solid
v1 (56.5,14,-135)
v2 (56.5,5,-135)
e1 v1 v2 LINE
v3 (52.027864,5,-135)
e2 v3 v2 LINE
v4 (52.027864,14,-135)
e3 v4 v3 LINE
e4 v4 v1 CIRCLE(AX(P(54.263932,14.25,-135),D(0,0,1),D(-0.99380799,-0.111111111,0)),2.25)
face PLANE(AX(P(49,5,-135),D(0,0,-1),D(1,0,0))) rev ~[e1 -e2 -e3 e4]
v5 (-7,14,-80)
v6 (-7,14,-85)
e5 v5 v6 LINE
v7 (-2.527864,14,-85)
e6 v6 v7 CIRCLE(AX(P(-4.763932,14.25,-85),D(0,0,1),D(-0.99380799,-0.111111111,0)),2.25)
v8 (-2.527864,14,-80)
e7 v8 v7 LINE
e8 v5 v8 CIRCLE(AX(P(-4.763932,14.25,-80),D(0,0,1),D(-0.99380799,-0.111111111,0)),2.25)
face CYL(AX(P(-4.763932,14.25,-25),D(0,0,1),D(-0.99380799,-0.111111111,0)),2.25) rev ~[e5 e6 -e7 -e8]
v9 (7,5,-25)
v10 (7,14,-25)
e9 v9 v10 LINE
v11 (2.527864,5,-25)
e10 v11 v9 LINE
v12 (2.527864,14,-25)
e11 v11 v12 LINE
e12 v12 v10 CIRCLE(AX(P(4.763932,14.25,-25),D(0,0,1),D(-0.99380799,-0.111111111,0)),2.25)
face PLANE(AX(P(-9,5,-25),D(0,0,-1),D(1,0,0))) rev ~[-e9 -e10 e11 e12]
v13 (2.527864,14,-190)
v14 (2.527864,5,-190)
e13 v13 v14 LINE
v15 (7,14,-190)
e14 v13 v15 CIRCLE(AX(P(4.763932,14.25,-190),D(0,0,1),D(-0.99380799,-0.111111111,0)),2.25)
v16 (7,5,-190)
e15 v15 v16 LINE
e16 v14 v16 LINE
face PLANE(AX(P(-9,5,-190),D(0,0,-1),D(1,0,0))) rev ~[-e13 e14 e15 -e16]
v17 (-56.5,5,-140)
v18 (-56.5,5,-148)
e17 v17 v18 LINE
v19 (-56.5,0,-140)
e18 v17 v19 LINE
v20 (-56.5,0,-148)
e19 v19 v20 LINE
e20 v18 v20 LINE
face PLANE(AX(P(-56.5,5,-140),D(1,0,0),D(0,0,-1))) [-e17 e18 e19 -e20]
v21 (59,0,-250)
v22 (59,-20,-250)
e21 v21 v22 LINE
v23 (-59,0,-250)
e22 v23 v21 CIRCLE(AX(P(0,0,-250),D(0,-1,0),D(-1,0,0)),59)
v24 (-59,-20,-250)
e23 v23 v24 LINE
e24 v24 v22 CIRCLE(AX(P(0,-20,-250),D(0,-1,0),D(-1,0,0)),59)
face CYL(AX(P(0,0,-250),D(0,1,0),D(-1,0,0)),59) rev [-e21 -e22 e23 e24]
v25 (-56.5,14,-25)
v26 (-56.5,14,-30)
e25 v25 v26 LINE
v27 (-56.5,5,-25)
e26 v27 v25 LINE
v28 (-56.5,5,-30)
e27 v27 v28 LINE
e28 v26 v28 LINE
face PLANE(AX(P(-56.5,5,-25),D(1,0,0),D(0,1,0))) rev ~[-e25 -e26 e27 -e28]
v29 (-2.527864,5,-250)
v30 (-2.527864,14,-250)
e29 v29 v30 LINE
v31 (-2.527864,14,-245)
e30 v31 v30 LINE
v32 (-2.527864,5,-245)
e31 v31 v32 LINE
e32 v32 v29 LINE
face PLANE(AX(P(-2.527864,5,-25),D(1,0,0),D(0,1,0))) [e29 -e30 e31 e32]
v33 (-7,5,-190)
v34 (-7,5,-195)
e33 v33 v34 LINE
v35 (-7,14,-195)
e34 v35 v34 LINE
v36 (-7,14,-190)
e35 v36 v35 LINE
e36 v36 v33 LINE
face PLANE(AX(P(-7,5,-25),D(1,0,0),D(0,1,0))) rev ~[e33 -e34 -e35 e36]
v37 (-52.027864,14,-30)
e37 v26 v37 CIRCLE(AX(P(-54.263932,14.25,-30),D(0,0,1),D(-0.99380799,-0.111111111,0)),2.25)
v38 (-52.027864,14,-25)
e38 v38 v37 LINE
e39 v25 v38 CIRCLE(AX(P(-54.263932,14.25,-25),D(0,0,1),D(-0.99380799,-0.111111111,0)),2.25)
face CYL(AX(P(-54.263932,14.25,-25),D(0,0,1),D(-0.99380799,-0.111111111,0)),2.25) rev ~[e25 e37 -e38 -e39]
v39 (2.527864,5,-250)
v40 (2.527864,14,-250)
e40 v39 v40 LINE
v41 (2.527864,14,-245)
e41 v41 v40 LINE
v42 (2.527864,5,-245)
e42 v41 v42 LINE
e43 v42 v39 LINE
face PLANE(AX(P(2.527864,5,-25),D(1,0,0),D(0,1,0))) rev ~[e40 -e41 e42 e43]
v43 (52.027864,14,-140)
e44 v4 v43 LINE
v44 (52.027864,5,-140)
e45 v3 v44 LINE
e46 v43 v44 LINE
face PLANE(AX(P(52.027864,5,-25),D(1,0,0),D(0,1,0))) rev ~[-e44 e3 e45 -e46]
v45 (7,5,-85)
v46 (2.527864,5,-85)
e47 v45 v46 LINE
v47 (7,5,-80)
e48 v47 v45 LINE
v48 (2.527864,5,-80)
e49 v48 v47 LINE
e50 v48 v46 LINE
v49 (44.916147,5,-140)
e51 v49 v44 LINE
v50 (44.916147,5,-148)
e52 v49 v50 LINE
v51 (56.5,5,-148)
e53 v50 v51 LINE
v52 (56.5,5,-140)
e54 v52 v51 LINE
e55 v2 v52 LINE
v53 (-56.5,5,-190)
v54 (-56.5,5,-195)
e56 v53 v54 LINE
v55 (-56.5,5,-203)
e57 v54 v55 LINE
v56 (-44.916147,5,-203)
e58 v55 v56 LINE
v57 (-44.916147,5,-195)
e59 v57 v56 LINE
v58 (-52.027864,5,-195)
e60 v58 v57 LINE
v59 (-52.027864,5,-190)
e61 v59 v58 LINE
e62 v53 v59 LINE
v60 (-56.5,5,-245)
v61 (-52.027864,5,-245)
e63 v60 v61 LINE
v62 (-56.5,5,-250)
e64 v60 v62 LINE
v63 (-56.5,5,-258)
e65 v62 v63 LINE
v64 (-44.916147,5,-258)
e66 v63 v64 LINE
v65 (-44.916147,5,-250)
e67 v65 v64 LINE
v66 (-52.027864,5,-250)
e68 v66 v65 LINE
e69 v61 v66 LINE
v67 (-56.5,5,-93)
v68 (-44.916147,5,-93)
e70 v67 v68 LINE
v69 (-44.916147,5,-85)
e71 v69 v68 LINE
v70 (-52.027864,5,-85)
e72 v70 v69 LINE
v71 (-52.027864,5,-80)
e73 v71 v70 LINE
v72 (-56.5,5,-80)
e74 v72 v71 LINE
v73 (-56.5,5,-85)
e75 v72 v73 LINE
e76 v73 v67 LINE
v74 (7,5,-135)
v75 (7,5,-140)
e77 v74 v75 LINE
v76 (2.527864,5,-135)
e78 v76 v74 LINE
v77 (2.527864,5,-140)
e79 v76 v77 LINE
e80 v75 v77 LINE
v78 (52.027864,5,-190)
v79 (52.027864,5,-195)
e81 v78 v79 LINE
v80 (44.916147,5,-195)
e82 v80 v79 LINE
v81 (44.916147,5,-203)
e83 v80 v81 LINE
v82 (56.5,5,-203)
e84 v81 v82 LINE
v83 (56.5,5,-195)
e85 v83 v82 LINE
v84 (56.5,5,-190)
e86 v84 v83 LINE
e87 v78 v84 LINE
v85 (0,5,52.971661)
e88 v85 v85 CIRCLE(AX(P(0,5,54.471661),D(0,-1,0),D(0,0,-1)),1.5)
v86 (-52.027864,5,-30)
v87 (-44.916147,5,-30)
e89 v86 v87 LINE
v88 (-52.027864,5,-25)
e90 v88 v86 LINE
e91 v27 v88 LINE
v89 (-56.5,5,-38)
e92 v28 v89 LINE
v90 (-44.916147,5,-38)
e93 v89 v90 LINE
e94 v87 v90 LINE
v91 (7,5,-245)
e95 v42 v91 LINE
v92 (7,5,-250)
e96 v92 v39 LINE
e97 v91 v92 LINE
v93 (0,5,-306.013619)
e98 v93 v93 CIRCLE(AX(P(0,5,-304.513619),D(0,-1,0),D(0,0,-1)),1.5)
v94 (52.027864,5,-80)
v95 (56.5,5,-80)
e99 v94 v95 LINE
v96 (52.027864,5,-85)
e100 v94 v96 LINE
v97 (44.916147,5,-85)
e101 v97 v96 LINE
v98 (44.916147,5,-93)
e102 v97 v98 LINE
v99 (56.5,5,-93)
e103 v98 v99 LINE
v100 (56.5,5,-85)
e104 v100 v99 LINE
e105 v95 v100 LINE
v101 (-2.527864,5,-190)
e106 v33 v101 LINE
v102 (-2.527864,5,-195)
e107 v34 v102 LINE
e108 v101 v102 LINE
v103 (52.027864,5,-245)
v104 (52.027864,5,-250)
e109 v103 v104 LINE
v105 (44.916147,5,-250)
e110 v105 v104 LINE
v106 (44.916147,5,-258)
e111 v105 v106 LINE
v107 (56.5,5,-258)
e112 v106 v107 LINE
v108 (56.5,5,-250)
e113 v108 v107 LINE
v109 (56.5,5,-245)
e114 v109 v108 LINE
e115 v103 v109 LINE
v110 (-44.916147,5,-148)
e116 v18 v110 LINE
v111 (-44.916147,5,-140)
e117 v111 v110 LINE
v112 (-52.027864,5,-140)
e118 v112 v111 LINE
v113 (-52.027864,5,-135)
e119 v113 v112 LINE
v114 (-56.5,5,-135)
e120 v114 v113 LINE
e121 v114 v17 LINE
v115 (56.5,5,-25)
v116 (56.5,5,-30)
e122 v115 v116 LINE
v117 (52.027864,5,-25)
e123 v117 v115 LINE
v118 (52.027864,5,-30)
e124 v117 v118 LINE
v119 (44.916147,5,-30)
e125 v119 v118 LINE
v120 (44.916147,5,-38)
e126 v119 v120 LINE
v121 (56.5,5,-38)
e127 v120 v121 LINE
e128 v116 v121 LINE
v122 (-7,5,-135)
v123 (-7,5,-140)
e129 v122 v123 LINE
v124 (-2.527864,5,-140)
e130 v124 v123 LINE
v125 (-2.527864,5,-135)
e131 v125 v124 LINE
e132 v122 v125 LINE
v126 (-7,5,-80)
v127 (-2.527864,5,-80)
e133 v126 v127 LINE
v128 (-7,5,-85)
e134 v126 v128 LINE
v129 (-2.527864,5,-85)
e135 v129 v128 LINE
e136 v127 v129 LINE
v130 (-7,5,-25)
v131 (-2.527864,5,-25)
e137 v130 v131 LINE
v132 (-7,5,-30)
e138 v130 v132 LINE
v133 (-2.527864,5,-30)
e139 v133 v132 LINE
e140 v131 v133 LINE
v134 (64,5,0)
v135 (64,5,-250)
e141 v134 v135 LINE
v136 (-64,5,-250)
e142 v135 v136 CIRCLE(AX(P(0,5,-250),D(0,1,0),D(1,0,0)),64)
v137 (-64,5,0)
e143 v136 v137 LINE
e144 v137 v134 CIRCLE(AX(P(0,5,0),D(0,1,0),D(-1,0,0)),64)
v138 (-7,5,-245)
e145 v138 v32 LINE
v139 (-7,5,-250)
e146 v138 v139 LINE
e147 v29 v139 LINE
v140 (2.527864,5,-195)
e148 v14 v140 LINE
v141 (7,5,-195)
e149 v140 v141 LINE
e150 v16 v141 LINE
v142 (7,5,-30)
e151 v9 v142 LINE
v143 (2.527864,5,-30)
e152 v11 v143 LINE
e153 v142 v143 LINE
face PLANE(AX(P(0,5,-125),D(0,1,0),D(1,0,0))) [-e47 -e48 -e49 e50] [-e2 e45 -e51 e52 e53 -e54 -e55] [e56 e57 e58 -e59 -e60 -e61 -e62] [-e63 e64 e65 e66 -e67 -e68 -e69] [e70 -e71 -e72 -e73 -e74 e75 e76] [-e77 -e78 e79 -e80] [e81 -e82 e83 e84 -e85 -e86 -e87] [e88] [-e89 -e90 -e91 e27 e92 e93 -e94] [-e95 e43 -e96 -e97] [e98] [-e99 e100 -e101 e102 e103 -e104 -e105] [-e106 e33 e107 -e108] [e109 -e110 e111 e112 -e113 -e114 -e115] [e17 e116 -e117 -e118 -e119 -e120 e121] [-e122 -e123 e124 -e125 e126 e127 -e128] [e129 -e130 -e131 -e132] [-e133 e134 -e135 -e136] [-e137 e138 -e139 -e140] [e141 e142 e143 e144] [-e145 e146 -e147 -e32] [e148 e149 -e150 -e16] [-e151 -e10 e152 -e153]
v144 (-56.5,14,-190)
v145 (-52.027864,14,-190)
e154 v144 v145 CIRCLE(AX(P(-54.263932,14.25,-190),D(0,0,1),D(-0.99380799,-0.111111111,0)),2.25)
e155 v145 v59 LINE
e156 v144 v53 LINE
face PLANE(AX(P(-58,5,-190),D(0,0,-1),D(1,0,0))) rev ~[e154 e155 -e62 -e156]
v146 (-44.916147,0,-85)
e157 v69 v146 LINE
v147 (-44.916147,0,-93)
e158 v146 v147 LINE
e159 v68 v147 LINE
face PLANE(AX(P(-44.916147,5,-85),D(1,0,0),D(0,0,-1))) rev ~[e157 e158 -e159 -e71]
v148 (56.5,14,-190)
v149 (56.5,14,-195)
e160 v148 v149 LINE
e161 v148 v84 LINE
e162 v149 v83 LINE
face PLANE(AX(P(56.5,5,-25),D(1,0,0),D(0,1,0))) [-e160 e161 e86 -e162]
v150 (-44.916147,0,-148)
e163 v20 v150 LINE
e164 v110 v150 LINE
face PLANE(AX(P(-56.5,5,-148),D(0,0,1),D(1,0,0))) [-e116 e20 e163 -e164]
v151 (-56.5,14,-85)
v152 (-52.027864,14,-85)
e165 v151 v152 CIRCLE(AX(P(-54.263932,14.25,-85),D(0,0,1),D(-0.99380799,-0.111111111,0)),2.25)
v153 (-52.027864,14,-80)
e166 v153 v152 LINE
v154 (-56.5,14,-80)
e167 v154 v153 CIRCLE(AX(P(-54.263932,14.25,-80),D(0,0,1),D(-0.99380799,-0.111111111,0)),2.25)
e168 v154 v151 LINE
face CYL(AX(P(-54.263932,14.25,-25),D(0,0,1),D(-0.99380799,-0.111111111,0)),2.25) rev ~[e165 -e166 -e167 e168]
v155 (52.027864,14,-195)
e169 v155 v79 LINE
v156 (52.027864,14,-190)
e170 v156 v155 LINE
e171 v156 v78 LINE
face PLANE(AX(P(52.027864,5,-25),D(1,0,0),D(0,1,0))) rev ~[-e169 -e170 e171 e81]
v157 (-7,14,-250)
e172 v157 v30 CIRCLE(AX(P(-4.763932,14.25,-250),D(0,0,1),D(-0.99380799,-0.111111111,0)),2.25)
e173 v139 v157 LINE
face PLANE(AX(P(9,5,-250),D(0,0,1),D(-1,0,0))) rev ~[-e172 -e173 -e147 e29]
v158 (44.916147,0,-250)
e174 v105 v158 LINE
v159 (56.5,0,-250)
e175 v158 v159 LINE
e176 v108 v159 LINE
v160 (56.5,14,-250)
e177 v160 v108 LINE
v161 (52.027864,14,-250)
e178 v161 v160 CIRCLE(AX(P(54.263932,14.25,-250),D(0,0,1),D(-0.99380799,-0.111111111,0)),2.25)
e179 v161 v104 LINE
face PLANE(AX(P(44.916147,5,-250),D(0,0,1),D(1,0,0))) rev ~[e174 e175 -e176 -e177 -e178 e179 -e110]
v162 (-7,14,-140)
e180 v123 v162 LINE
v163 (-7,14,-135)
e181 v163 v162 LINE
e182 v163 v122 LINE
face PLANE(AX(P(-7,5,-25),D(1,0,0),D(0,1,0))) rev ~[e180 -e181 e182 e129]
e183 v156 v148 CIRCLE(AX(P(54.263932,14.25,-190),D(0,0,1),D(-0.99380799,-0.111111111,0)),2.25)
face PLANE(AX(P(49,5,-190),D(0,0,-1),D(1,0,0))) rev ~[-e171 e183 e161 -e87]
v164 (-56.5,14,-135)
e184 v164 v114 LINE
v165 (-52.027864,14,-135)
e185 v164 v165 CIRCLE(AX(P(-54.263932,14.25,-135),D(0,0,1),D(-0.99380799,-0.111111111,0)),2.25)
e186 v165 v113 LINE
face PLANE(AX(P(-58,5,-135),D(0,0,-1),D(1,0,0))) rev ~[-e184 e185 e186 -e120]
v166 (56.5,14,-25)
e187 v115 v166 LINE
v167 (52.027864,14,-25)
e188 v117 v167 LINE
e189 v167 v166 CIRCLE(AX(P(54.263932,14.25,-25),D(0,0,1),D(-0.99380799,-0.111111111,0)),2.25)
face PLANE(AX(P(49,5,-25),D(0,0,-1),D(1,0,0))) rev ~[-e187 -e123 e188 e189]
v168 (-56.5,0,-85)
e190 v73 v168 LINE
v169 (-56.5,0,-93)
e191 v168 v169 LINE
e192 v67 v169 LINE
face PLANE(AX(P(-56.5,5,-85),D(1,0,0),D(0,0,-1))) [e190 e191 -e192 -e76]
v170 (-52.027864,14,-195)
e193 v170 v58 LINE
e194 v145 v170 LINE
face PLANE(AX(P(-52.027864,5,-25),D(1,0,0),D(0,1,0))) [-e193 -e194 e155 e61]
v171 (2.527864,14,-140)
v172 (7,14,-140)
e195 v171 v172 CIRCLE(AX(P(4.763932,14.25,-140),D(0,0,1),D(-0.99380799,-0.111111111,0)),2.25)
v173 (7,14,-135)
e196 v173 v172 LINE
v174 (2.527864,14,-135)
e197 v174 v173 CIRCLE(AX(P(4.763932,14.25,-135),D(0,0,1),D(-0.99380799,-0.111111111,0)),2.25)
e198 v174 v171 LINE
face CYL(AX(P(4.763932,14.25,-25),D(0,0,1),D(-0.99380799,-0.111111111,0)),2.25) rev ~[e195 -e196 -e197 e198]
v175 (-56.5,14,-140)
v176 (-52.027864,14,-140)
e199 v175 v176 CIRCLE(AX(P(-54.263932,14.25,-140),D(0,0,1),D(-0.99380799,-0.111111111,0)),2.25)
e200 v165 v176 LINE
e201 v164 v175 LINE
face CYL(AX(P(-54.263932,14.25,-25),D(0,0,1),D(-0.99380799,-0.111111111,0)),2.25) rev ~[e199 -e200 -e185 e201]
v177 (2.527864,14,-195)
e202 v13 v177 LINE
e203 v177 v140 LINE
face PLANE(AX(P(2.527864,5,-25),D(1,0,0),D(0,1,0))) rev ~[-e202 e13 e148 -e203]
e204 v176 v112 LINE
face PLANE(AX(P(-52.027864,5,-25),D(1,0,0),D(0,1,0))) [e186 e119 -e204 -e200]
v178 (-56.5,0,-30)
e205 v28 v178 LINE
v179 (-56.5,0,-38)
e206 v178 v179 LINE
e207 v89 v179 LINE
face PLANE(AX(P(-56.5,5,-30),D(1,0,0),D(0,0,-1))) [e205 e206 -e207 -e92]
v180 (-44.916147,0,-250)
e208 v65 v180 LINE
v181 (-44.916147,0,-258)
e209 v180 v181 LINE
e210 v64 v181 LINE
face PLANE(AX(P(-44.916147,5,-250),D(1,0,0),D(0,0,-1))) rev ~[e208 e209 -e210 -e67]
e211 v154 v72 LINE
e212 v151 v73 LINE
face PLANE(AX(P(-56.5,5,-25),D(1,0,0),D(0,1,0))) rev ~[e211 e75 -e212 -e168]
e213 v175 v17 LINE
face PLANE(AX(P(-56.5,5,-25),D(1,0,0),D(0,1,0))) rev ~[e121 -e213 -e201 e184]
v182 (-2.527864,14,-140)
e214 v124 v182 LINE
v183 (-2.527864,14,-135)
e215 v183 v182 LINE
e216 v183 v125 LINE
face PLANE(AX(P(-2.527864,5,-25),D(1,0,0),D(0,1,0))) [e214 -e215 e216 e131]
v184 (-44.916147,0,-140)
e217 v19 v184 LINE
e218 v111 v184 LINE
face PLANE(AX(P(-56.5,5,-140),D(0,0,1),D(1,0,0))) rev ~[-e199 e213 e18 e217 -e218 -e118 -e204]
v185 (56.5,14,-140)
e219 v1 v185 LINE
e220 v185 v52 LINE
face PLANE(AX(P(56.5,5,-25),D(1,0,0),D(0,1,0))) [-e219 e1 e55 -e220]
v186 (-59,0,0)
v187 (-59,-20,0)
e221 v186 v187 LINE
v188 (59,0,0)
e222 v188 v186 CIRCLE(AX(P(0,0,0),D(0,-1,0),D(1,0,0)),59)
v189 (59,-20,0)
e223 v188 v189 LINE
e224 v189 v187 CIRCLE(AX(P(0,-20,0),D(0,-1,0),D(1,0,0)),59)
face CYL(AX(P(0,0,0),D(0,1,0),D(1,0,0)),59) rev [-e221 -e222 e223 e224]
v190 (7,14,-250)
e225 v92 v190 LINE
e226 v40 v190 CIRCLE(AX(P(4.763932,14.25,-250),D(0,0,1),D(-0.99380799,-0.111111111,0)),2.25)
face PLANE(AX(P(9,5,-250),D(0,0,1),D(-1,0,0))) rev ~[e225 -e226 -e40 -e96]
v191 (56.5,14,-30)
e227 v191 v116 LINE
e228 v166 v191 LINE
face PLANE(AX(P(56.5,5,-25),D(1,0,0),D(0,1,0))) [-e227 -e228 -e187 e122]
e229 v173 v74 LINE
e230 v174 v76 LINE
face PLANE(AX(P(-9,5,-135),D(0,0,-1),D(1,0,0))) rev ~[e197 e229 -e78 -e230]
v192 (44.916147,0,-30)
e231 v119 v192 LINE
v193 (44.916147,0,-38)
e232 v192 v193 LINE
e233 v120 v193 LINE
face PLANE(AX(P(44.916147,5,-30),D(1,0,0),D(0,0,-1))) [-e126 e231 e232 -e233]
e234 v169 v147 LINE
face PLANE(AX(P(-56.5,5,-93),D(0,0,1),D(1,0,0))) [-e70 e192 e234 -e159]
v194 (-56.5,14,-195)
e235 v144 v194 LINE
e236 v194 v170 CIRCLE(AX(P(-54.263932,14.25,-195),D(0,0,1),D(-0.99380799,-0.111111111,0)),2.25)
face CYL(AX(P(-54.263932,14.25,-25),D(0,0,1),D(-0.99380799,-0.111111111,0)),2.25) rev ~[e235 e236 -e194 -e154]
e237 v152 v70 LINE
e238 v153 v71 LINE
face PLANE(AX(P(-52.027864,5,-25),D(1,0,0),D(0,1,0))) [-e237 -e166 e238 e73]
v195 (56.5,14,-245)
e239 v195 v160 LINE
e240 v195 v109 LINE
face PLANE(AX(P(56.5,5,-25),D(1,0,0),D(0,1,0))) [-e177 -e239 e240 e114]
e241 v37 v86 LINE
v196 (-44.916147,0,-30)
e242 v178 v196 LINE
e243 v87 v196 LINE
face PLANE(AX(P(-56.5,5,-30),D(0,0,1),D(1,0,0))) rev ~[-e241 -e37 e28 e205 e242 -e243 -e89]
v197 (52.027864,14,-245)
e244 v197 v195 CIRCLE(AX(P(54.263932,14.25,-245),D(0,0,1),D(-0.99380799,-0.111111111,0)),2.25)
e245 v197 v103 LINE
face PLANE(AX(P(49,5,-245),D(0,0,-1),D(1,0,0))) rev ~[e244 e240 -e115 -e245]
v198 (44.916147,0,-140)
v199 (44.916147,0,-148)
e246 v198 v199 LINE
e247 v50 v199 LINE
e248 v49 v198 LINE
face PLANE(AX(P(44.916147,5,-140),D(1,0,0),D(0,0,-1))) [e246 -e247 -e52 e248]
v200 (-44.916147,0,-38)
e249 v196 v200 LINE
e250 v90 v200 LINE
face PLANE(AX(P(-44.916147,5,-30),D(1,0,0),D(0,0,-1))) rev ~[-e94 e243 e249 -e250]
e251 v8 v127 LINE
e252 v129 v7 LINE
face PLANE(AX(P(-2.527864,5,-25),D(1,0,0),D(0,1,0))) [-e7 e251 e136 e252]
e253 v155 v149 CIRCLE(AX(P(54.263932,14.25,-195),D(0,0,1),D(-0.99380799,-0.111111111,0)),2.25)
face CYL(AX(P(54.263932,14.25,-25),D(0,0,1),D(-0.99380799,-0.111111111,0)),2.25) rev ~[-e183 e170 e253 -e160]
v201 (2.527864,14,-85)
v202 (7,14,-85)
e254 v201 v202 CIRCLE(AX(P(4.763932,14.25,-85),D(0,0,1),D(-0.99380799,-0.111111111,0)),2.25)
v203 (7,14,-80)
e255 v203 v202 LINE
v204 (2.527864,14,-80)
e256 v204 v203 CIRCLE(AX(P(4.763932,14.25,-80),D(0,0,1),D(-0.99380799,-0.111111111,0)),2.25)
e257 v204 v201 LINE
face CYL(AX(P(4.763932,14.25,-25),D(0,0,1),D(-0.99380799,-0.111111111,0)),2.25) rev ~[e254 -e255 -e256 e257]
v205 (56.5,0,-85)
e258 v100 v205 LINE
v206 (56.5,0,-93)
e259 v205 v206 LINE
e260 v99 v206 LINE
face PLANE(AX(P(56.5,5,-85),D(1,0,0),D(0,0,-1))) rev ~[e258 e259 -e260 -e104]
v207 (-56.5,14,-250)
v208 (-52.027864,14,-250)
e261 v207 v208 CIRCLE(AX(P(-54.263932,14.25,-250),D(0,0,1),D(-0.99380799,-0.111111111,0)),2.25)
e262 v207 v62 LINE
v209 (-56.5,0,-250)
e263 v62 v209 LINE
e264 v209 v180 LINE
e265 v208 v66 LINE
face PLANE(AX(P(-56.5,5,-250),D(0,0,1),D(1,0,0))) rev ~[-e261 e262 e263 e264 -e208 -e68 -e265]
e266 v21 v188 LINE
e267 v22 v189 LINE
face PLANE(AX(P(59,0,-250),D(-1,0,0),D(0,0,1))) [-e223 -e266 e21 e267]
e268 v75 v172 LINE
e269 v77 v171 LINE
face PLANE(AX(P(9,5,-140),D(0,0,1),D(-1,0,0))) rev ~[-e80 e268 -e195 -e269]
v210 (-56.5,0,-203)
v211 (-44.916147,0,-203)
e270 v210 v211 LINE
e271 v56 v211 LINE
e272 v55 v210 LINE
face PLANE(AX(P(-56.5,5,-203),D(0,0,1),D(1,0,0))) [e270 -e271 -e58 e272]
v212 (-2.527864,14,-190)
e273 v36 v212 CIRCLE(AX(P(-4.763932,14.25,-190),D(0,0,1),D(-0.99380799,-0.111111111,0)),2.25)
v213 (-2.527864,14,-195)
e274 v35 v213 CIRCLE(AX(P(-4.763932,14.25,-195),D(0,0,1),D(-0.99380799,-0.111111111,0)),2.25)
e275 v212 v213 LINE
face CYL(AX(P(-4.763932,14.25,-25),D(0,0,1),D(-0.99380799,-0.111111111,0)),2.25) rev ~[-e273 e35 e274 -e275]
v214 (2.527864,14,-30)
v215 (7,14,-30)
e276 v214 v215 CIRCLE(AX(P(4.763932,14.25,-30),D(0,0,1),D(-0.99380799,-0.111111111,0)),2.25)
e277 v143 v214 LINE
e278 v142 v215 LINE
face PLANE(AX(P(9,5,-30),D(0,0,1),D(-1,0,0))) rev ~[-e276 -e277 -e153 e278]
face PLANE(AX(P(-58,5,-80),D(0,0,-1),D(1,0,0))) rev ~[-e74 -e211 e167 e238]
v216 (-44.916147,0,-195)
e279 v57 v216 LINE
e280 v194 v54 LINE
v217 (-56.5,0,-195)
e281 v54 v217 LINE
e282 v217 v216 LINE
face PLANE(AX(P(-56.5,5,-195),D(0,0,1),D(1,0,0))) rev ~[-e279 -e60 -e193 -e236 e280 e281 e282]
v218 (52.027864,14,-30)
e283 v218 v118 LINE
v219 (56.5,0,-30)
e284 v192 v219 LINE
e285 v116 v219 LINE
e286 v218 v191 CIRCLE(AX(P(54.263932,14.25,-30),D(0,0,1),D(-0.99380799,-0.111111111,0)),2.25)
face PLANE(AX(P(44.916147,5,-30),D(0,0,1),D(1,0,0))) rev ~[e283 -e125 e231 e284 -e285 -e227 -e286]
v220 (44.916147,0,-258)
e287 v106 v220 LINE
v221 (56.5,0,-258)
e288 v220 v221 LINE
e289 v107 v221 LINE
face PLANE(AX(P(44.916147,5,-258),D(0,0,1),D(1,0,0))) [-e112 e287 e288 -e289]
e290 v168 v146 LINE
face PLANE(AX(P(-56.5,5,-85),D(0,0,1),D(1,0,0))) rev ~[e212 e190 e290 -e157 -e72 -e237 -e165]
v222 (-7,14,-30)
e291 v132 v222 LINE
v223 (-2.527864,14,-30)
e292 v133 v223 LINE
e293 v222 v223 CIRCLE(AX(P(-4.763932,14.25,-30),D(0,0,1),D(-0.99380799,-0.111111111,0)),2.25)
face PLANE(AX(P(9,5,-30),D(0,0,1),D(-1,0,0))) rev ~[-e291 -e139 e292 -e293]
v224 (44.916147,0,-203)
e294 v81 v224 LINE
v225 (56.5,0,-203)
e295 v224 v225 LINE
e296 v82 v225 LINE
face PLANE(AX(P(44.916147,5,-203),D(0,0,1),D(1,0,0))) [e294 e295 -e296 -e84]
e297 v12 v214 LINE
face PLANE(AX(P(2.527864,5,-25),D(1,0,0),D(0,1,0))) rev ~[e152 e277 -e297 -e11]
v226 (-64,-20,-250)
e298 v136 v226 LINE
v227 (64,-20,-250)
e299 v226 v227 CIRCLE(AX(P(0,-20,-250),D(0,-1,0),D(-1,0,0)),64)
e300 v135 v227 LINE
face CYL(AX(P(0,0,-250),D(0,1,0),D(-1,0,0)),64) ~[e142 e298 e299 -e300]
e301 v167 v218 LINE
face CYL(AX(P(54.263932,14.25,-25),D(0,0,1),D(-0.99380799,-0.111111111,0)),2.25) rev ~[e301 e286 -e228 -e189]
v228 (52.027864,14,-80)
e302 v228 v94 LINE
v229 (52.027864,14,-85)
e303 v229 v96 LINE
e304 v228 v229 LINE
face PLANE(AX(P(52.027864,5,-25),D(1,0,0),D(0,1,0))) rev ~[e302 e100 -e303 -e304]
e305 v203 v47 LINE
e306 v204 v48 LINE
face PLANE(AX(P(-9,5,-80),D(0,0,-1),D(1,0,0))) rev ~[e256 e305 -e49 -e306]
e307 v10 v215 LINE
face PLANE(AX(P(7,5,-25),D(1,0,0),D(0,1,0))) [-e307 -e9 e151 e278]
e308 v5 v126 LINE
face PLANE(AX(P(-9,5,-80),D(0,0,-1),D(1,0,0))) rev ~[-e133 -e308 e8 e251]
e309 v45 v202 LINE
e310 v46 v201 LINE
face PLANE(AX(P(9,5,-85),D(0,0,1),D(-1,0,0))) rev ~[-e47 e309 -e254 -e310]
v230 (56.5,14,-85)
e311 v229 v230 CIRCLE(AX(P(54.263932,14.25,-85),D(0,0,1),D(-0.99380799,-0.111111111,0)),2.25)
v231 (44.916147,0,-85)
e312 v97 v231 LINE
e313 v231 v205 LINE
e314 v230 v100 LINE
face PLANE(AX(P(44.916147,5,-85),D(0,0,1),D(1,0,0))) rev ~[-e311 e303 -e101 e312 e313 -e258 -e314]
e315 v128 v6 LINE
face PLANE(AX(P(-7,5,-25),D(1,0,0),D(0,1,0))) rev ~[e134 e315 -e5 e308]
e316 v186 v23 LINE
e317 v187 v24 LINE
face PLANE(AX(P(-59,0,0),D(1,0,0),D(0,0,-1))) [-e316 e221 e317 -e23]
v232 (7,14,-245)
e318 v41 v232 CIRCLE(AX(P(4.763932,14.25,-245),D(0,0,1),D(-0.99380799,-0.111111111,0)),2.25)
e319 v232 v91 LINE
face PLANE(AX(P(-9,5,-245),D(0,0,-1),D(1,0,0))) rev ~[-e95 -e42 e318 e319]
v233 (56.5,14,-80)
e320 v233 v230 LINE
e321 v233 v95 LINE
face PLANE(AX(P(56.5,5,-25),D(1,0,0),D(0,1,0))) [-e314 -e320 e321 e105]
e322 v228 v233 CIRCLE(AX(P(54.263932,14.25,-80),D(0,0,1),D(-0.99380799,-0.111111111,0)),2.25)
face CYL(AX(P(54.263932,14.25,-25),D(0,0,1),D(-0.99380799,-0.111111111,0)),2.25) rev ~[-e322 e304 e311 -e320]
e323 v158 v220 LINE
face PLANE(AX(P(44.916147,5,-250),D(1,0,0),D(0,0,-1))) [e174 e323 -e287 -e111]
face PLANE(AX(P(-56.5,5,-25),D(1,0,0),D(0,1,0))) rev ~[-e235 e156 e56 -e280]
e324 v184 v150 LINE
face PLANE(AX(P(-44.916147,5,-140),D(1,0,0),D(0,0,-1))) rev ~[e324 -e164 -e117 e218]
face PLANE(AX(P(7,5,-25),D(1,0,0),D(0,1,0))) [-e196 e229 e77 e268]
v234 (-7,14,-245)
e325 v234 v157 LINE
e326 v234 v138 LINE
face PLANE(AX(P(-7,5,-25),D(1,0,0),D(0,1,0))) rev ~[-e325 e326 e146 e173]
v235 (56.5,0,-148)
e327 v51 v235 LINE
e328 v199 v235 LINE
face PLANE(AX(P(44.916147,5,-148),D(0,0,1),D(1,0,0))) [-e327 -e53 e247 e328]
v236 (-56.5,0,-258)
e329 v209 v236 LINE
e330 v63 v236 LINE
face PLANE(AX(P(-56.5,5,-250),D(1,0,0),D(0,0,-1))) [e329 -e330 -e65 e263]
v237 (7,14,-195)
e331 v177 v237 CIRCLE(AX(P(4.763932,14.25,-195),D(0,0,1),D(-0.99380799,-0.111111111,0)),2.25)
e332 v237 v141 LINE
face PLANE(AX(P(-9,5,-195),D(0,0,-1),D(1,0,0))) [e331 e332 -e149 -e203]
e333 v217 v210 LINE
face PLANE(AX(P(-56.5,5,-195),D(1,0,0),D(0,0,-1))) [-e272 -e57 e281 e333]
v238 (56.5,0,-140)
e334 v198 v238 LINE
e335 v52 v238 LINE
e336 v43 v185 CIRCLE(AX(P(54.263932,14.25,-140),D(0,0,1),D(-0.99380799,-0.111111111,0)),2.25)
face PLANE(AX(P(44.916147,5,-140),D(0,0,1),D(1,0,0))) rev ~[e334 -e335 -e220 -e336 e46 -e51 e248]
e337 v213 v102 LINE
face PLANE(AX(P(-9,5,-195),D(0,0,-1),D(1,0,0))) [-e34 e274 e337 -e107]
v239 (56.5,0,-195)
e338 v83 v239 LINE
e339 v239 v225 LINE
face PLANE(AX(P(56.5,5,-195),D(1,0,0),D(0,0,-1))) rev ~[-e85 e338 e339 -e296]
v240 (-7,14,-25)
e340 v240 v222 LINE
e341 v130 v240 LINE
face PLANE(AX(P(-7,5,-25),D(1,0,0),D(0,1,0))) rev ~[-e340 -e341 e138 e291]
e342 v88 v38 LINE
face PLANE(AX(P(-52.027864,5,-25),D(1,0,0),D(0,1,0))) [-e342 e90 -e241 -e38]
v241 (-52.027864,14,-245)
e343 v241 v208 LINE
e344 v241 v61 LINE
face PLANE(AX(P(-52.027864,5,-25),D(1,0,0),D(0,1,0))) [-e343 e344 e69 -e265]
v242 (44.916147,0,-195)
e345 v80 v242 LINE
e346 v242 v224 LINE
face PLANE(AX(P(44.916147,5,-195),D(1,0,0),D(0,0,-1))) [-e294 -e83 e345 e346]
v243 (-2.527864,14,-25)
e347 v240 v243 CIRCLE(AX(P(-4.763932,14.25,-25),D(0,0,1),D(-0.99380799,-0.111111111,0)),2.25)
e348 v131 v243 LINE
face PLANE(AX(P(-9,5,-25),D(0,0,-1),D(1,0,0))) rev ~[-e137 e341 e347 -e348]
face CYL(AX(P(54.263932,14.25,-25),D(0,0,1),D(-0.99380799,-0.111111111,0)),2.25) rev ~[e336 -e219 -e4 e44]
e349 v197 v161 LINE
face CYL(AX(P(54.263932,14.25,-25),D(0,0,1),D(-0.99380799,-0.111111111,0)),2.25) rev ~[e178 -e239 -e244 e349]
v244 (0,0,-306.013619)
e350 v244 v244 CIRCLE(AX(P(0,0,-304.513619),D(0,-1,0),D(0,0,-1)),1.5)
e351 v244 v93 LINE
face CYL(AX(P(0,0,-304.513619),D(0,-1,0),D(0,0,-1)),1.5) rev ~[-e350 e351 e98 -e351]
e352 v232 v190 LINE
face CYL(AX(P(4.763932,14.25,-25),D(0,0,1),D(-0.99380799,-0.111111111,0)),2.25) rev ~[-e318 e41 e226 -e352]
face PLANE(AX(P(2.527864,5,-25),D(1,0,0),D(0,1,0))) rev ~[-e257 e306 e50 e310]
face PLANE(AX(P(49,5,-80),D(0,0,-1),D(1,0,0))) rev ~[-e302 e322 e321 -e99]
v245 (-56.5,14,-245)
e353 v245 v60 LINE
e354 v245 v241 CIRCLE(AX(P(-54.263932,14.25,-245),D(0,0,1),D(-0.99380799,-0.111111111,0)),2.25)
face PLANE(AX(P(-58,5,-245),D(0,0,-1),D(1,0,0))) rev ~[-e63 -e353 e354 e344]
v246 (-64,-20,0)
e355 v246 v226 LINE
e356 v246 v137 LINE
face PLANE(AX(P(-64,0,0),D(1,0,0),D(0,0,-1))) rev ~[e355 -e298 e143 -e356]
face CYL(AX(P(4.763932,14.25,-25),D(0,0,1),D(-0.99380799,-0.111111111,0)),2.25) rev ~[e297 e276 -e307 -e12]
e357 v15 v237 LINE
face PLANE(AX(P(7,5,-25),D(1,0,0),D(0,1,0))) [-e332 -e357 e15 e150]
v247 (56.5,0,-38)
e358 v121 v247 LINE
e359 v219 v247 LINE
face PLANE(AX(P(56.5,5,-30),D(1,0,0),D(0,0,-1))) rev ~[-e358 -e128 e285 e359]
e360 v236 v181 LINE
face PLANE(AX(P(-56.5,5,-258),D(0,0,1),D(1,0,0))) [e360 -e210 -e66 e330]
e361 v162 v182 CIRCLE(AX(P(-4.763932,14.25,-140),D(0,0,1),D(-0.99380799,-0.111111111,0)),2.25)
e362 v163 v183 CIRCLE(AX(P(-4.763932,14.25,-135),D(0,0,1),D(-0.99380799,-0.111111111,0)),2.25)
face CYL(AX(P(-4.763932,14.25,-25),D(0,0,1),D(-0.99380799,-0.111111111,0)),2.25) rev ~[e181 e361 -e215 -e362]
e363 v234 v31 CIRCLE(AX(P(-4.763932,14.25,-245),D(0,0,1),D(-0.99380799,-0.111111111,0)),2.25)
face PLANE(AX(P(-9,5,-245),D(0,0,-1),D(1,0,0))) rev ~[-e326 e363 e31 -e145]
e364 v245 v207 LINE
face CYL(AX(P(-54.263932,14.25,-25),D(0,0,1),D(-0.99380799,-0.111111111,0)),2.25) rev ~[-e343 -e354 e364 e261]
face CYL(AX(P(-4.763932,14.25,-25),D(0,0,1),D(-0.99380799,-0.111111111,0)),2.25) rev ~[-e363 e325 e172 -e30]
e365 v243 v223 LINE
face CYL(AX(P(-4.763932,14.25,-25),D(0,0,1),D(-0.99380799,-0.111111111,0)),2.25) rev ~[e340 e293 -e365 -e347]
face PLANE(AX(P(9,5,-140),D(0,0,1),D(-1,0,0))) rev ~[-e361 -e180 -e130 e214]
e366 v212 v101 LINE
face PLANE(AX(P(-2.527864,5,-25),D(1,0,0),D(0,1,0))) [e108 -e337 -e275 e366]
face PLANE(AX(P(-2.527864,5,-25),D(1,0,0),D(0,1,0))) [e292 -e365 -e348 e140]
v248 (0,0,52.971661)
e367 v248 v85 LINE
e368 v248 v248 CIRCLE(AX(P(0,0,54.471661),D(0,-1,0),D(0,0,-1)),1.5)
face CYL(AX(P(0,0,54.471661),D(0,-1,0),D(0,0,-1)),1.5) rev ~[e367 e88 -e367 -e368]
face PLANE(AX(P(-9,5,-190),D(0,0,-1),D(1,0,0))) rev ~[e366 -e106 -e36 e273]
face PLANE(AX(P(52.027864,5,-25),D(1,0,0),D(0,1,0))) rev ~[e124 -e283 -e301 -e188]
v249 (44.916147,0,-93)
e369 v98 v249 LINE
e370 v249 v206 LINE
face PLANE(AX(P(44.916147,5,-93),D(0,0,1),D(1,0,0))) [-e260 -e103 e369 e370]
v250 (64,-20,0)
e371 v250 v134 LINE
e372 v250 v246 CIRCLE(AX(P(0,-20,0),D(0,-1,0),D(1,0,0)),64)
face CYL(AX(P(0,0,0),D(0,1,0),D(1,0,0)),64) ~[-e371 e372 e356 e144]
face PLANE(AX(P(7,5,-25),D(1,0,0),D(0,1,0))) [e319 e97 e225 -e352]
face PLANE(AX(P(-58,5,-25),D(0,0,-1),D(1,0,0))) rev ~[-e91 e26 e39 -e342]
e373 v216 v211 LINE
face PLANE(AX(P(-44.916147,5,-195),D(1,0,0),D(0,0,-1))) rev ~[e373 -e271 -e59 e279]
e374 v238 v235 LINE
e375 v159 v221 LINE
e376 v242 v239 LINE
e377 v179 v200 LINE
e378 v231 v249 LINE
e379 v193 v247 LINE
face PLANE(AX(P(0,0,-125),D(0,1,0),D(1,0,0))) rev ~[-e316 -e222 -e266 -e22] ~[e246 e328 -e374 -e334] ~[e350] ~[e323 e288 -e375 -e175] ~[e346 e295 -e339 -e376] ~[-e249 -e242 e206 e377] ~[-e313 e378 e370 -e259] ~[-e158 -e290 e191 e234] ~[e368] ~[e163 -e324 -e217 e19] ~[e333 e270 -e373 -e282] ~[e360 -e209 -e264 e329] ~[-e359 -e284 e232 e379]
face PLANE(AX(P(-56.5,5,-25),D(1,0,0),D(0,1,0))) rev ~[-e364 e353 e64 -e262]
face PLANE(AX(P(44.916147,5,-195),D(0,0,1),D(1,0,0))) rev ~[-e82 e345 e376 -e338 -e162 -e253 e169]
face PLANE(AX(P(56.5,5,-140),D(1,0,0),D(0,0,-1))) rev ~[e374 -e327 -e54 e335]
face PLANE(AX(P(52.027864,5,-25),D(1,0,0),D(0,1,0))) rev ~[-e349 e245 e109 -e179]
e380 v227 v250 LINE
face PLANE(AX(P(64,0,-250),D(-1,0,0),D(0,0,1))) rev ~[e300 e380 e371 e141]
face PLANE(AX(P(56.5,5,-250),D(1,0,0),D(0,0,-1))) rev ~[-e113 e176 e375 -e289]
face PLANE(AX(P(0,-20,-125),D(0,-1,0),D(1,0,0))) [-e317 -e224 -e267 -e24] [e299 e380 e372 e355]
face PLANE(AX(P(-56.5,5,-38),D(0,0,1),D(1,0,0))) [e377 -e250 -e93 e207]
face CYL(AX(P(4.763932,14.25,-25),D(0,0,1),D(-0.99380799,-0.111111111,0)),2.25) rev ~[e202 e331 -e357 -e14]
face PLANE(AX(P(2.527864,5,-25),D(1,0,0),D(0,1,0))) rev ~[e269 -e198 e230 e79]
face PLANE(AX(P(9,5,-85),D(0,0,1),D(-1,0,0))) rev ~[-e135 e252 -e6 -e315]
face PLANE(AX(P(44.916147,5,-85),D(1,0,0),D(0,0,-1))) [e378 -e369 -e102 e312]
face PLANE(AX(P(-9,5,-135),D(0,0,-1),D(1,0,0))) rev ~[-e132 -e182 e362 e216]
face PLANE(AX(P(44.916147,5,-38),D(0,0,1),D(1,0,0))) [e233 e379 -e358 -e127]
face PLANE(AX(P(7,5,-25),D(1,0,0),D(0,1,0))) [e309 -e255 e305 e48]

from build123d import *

# Parameters (mm, degrees)
BOSS_EXTRUDE1_DEPTH = 5
SKETCH2_W           = 9
SKETCH2_H           = 5
SKETCH2_W_2         = 18
BOSS_EXTRUDE2_DEPTH = 9
SKETCH3_W           = 1.5
SKETCH3_H           = 9
SKETCH3_W_2         = 3.027864045
SKETCH3_W_3         = 2
SKETCH3_W_4         = 5.05572809
CUT_EXTRUDE1_DEPTH  = 228
BOSS_EXTRUDE3_DEPTH = 20
SKETCH5_W           = 11.583853266
SKETCH5_H           = 8
CUT_EXTRUDE3_DEPTH  = 20
SKETCH6_R           = 1.5
CUT_EXTRUDE5_DEPTH  = 25


with BuildPart() as part:
    # Sketch1 → Boss-Extrude1 (new body)
    with BuildSketch(Plane(origin=(0, 0, 0), x_dir=(1, 0, 0), z_dir=(0, 1, 0))):
        with BuildLine():
            Line((-64, 250), (-64, 0))
            ThreePointArc((-64, 0), (0, -64), (64, 0))
            Line((64, 0), (64, 250))
            ThreePointArc((64, 250), (0, 314), (-64, 250))
        make_face()
    extrude(amount=BOSS_EXTRUDE1_DEPTH)

    # Sketch2 → Boss-Extrude2 (add)
    with BuildSketch(Plane(origin=(0, 5, 0), x_dir=(1, 0, 0), z_dir=(0, 1, 0))):
        with Locations((4.5, 27.5)):
            Rectangle(SKETCH2_W, SKETCH2_H)
        with Locations((-4.5, 27.5)):
            Rectangle(SKETCH2_W, SKETCH2_H)
        with Locations((-53.5, 27.5)):
            Rectangle(SKETCH2_W, SKETCH2_H)
        with Locations((53.5, 27.5)):
            Rectangle(SKETCH2_W, SKETCH2_H)
        with Locations((53.5, 82.5)):
            Rectangle(SKETCH2_W, SKETCH2_H)
        with Locations((4.5, 82.5)):
            Rectangle(SKETCH2_W, SKETCH2_H)
        with Locations((-4.5, 82.5)):
            Rectangle(SKETCH2_W, SKETCH2_H)
        with Locations((-53.5, 82.5)):
            Rectangle(SKETCH2_W, SKETCH2_H)
        with Locations((-53.5, 137.5)):
            Rectangle(SKETCH2_W, SKETCH2_H)
        with Locations((-4.5, 137.5)):
            Rectangle(SKETCH2_W, SKETCH2_H)
        with Locations((4.5, 137.5)):
            Rectangle(SKETCH2_W, SKETCH2_H)
        with Locations((53.5, 137.5)):
            Rectangle(SKETCH2_W, SKETCH2_H)
        with Locations((53.5, 192.5)):
            Rectangle(SKETCH2_W, SKETCH2_H)
        with Locations((-53.5, 192.5)):
            Rectangle(SKETCH2_W, SKETCH2_H)
        with Locations((-53.5, 247.5)):
            Rectangle(SKETCH2_W, SKETCH2_H)
        with Locations((-4.5, 247.5)):
            Rectangle(SKETCH2_W, SKETCH2_H)
        with Locations((4.5, 247.5)):
            Rectangle(SKETCH2_W, SKETCH2_H)
        with Locations((53.5, 247.5)):
            Rectangle(SKETCH2_W, SKETCH2_H)
        with Locations((0, 192.5)):
            Rectangle(SKETCH2_W_2, SKETCH2_H)
    extrude(amount=BOSS_EXTRUDE2_DEPTH)

    # Sketch3 → Cut-Extrude1 (cut)
    with BuildSketch(Plane.XY.offset(-25)):
        with BuildLine():
            ThreePointArc((-56.5, 14), (-54.263932023, 12), (-52.027864045, 14))
            Line((-52.027864045, 14), (-56.5, 14))
        make_face()
        with Locations((-57.25, 9.5)):
            Rectangle(SKETCH3_W, SKETCH3_H)
        with Locations((-50.513932023, 9.5)):
            Rectangle(SKETCH3_W_2, SKETCH3_H)
        with Locations((-8, 9.5)):
            Rectangle(SKETCH3_W_3, SKETCH3_H)
        with BuildLine():
            Line((-2.527864045, 14), (-7, 14))
            ThreePointArc((-7, 14), (-4.763932023, 12), (-2.527864045, 14))
        make_face()
        with Locations((0, 9.5)):
            Rectangle(SKETCH3_W_4, SKETCH3_H)
        with BuildLine():
            Line((7, 14), (2.527864045, 14))
            ThreePointArc((2.527864045, 14), (4.763932023, 12), (7, 14))
        make_face()
        with Locations((8, 9.5)):
            Rectangle(SKETCH3_W_3, SKETCH3_H)
        with Locations((50.513932023, 9.5)):
            Rectangle(SKETCH3_W_2, SKETCH3_H)
        with BuildLine():
            Line((56.5, 14), (52.027864045, 14))
            ThreePointArc((52.027864045, 14), (54.263932023, 12), (56.5, 14))
        make_face()
        with Locations((57.25, 9.5)):
            Rectangle(SKETCH3_W, SKETCH3_H)
    extrude(amount=-CUT_EXTRUDE1_DEPTH, mode=Mode.SUBTRACT)

    # Sketch4 → Boss-Extrude3 (add)
    with BuildSketch(Plane.XZ):
        with BuildLine():
            Line((-64, 0), (-64, -250))
            ThreePointArc((-64, -250), (0, -314), (64, -250))
            Line((64, -250), (64, 0))
            ThreePointArc((64, 0), (0, 64), (-64, 0))
        make_face()
        with BuildLine():
            Line((-59, 0), (-59, -250))
            ThreePointArc((-59, -250), (0, -309), (59, -250))
            Line((59, -250), (59, 0))
            ThreePointArc((59, 0), (0, 59), (-59, 0))
        make_face(mode=Mode.SUBTRACT)
    extrude(amount=BOSS_EXTRUDE3_DEPTH)

    # Sketch5 → Cut-Extrude3 (cut)
    with BuildSketch(Plane(origin=(0, 5, 0), x_dir=(1, 0, 0), z_dir=(0, 1, 0))):
        with Locations((-50.708073367, 254)):
            Rectangle(SKETCH5_W, SKETCH5_H)
        with Locations((-50.708073367, 199)):
            Rectangle(SKETCH5_W, SKETCH5_H)
        with Locations((-50.708073367, 144)):
            Rectangle(SKETCH5_W, SKETCH5_H)
        with Locations((-50.708073367, 89)):
            Rectangle(SKETCH5_W, SKETCH5_H)
        with Locations((-50.708073367, 34)):
            Rectangle(SKETCH5_W, SKETCH5_H)
        with Locations((50.708073367, 144)):
            Rectangle(SKETCH5_W, SKETCH5_H)
        with Locations((50.708073367, 199)):
            Rectangle(SKETCH5_W, SKETCH5_H)
        with Locations((50.708073367, 254)):
            Rectangle(SKETCH5_W, SKETCH5_H)
        with Locations((50.708073367, 89)):
            Rectangle(SKETCH5_W, SKETCH5_H)
        with Locations((50.708073367, 34)):
            Rectangle(SKETCH5_W, SKETCH5_H)
    extrude(amount=-CUT_EXTRUDE3_DEPTH, mode=Mode.SUBTRACT)

    # Sketch6 → Cut-Extrude5 (cut)
    with BuildSketch(Plane.XZ):
        with Locations(Location((0, 54.47166112, 0), (0, 0, 270))):
            Circle(SKETCH6_R)
        with Locations(Location((0, -304.513619398, 0), (0, 0, 270))):
            Circle(SKETCH6_R)
    extrude(amount=-CUT_EXTRUDE5_DEPTH, mode=Mode.SUBTRACT)


solid = part.part
